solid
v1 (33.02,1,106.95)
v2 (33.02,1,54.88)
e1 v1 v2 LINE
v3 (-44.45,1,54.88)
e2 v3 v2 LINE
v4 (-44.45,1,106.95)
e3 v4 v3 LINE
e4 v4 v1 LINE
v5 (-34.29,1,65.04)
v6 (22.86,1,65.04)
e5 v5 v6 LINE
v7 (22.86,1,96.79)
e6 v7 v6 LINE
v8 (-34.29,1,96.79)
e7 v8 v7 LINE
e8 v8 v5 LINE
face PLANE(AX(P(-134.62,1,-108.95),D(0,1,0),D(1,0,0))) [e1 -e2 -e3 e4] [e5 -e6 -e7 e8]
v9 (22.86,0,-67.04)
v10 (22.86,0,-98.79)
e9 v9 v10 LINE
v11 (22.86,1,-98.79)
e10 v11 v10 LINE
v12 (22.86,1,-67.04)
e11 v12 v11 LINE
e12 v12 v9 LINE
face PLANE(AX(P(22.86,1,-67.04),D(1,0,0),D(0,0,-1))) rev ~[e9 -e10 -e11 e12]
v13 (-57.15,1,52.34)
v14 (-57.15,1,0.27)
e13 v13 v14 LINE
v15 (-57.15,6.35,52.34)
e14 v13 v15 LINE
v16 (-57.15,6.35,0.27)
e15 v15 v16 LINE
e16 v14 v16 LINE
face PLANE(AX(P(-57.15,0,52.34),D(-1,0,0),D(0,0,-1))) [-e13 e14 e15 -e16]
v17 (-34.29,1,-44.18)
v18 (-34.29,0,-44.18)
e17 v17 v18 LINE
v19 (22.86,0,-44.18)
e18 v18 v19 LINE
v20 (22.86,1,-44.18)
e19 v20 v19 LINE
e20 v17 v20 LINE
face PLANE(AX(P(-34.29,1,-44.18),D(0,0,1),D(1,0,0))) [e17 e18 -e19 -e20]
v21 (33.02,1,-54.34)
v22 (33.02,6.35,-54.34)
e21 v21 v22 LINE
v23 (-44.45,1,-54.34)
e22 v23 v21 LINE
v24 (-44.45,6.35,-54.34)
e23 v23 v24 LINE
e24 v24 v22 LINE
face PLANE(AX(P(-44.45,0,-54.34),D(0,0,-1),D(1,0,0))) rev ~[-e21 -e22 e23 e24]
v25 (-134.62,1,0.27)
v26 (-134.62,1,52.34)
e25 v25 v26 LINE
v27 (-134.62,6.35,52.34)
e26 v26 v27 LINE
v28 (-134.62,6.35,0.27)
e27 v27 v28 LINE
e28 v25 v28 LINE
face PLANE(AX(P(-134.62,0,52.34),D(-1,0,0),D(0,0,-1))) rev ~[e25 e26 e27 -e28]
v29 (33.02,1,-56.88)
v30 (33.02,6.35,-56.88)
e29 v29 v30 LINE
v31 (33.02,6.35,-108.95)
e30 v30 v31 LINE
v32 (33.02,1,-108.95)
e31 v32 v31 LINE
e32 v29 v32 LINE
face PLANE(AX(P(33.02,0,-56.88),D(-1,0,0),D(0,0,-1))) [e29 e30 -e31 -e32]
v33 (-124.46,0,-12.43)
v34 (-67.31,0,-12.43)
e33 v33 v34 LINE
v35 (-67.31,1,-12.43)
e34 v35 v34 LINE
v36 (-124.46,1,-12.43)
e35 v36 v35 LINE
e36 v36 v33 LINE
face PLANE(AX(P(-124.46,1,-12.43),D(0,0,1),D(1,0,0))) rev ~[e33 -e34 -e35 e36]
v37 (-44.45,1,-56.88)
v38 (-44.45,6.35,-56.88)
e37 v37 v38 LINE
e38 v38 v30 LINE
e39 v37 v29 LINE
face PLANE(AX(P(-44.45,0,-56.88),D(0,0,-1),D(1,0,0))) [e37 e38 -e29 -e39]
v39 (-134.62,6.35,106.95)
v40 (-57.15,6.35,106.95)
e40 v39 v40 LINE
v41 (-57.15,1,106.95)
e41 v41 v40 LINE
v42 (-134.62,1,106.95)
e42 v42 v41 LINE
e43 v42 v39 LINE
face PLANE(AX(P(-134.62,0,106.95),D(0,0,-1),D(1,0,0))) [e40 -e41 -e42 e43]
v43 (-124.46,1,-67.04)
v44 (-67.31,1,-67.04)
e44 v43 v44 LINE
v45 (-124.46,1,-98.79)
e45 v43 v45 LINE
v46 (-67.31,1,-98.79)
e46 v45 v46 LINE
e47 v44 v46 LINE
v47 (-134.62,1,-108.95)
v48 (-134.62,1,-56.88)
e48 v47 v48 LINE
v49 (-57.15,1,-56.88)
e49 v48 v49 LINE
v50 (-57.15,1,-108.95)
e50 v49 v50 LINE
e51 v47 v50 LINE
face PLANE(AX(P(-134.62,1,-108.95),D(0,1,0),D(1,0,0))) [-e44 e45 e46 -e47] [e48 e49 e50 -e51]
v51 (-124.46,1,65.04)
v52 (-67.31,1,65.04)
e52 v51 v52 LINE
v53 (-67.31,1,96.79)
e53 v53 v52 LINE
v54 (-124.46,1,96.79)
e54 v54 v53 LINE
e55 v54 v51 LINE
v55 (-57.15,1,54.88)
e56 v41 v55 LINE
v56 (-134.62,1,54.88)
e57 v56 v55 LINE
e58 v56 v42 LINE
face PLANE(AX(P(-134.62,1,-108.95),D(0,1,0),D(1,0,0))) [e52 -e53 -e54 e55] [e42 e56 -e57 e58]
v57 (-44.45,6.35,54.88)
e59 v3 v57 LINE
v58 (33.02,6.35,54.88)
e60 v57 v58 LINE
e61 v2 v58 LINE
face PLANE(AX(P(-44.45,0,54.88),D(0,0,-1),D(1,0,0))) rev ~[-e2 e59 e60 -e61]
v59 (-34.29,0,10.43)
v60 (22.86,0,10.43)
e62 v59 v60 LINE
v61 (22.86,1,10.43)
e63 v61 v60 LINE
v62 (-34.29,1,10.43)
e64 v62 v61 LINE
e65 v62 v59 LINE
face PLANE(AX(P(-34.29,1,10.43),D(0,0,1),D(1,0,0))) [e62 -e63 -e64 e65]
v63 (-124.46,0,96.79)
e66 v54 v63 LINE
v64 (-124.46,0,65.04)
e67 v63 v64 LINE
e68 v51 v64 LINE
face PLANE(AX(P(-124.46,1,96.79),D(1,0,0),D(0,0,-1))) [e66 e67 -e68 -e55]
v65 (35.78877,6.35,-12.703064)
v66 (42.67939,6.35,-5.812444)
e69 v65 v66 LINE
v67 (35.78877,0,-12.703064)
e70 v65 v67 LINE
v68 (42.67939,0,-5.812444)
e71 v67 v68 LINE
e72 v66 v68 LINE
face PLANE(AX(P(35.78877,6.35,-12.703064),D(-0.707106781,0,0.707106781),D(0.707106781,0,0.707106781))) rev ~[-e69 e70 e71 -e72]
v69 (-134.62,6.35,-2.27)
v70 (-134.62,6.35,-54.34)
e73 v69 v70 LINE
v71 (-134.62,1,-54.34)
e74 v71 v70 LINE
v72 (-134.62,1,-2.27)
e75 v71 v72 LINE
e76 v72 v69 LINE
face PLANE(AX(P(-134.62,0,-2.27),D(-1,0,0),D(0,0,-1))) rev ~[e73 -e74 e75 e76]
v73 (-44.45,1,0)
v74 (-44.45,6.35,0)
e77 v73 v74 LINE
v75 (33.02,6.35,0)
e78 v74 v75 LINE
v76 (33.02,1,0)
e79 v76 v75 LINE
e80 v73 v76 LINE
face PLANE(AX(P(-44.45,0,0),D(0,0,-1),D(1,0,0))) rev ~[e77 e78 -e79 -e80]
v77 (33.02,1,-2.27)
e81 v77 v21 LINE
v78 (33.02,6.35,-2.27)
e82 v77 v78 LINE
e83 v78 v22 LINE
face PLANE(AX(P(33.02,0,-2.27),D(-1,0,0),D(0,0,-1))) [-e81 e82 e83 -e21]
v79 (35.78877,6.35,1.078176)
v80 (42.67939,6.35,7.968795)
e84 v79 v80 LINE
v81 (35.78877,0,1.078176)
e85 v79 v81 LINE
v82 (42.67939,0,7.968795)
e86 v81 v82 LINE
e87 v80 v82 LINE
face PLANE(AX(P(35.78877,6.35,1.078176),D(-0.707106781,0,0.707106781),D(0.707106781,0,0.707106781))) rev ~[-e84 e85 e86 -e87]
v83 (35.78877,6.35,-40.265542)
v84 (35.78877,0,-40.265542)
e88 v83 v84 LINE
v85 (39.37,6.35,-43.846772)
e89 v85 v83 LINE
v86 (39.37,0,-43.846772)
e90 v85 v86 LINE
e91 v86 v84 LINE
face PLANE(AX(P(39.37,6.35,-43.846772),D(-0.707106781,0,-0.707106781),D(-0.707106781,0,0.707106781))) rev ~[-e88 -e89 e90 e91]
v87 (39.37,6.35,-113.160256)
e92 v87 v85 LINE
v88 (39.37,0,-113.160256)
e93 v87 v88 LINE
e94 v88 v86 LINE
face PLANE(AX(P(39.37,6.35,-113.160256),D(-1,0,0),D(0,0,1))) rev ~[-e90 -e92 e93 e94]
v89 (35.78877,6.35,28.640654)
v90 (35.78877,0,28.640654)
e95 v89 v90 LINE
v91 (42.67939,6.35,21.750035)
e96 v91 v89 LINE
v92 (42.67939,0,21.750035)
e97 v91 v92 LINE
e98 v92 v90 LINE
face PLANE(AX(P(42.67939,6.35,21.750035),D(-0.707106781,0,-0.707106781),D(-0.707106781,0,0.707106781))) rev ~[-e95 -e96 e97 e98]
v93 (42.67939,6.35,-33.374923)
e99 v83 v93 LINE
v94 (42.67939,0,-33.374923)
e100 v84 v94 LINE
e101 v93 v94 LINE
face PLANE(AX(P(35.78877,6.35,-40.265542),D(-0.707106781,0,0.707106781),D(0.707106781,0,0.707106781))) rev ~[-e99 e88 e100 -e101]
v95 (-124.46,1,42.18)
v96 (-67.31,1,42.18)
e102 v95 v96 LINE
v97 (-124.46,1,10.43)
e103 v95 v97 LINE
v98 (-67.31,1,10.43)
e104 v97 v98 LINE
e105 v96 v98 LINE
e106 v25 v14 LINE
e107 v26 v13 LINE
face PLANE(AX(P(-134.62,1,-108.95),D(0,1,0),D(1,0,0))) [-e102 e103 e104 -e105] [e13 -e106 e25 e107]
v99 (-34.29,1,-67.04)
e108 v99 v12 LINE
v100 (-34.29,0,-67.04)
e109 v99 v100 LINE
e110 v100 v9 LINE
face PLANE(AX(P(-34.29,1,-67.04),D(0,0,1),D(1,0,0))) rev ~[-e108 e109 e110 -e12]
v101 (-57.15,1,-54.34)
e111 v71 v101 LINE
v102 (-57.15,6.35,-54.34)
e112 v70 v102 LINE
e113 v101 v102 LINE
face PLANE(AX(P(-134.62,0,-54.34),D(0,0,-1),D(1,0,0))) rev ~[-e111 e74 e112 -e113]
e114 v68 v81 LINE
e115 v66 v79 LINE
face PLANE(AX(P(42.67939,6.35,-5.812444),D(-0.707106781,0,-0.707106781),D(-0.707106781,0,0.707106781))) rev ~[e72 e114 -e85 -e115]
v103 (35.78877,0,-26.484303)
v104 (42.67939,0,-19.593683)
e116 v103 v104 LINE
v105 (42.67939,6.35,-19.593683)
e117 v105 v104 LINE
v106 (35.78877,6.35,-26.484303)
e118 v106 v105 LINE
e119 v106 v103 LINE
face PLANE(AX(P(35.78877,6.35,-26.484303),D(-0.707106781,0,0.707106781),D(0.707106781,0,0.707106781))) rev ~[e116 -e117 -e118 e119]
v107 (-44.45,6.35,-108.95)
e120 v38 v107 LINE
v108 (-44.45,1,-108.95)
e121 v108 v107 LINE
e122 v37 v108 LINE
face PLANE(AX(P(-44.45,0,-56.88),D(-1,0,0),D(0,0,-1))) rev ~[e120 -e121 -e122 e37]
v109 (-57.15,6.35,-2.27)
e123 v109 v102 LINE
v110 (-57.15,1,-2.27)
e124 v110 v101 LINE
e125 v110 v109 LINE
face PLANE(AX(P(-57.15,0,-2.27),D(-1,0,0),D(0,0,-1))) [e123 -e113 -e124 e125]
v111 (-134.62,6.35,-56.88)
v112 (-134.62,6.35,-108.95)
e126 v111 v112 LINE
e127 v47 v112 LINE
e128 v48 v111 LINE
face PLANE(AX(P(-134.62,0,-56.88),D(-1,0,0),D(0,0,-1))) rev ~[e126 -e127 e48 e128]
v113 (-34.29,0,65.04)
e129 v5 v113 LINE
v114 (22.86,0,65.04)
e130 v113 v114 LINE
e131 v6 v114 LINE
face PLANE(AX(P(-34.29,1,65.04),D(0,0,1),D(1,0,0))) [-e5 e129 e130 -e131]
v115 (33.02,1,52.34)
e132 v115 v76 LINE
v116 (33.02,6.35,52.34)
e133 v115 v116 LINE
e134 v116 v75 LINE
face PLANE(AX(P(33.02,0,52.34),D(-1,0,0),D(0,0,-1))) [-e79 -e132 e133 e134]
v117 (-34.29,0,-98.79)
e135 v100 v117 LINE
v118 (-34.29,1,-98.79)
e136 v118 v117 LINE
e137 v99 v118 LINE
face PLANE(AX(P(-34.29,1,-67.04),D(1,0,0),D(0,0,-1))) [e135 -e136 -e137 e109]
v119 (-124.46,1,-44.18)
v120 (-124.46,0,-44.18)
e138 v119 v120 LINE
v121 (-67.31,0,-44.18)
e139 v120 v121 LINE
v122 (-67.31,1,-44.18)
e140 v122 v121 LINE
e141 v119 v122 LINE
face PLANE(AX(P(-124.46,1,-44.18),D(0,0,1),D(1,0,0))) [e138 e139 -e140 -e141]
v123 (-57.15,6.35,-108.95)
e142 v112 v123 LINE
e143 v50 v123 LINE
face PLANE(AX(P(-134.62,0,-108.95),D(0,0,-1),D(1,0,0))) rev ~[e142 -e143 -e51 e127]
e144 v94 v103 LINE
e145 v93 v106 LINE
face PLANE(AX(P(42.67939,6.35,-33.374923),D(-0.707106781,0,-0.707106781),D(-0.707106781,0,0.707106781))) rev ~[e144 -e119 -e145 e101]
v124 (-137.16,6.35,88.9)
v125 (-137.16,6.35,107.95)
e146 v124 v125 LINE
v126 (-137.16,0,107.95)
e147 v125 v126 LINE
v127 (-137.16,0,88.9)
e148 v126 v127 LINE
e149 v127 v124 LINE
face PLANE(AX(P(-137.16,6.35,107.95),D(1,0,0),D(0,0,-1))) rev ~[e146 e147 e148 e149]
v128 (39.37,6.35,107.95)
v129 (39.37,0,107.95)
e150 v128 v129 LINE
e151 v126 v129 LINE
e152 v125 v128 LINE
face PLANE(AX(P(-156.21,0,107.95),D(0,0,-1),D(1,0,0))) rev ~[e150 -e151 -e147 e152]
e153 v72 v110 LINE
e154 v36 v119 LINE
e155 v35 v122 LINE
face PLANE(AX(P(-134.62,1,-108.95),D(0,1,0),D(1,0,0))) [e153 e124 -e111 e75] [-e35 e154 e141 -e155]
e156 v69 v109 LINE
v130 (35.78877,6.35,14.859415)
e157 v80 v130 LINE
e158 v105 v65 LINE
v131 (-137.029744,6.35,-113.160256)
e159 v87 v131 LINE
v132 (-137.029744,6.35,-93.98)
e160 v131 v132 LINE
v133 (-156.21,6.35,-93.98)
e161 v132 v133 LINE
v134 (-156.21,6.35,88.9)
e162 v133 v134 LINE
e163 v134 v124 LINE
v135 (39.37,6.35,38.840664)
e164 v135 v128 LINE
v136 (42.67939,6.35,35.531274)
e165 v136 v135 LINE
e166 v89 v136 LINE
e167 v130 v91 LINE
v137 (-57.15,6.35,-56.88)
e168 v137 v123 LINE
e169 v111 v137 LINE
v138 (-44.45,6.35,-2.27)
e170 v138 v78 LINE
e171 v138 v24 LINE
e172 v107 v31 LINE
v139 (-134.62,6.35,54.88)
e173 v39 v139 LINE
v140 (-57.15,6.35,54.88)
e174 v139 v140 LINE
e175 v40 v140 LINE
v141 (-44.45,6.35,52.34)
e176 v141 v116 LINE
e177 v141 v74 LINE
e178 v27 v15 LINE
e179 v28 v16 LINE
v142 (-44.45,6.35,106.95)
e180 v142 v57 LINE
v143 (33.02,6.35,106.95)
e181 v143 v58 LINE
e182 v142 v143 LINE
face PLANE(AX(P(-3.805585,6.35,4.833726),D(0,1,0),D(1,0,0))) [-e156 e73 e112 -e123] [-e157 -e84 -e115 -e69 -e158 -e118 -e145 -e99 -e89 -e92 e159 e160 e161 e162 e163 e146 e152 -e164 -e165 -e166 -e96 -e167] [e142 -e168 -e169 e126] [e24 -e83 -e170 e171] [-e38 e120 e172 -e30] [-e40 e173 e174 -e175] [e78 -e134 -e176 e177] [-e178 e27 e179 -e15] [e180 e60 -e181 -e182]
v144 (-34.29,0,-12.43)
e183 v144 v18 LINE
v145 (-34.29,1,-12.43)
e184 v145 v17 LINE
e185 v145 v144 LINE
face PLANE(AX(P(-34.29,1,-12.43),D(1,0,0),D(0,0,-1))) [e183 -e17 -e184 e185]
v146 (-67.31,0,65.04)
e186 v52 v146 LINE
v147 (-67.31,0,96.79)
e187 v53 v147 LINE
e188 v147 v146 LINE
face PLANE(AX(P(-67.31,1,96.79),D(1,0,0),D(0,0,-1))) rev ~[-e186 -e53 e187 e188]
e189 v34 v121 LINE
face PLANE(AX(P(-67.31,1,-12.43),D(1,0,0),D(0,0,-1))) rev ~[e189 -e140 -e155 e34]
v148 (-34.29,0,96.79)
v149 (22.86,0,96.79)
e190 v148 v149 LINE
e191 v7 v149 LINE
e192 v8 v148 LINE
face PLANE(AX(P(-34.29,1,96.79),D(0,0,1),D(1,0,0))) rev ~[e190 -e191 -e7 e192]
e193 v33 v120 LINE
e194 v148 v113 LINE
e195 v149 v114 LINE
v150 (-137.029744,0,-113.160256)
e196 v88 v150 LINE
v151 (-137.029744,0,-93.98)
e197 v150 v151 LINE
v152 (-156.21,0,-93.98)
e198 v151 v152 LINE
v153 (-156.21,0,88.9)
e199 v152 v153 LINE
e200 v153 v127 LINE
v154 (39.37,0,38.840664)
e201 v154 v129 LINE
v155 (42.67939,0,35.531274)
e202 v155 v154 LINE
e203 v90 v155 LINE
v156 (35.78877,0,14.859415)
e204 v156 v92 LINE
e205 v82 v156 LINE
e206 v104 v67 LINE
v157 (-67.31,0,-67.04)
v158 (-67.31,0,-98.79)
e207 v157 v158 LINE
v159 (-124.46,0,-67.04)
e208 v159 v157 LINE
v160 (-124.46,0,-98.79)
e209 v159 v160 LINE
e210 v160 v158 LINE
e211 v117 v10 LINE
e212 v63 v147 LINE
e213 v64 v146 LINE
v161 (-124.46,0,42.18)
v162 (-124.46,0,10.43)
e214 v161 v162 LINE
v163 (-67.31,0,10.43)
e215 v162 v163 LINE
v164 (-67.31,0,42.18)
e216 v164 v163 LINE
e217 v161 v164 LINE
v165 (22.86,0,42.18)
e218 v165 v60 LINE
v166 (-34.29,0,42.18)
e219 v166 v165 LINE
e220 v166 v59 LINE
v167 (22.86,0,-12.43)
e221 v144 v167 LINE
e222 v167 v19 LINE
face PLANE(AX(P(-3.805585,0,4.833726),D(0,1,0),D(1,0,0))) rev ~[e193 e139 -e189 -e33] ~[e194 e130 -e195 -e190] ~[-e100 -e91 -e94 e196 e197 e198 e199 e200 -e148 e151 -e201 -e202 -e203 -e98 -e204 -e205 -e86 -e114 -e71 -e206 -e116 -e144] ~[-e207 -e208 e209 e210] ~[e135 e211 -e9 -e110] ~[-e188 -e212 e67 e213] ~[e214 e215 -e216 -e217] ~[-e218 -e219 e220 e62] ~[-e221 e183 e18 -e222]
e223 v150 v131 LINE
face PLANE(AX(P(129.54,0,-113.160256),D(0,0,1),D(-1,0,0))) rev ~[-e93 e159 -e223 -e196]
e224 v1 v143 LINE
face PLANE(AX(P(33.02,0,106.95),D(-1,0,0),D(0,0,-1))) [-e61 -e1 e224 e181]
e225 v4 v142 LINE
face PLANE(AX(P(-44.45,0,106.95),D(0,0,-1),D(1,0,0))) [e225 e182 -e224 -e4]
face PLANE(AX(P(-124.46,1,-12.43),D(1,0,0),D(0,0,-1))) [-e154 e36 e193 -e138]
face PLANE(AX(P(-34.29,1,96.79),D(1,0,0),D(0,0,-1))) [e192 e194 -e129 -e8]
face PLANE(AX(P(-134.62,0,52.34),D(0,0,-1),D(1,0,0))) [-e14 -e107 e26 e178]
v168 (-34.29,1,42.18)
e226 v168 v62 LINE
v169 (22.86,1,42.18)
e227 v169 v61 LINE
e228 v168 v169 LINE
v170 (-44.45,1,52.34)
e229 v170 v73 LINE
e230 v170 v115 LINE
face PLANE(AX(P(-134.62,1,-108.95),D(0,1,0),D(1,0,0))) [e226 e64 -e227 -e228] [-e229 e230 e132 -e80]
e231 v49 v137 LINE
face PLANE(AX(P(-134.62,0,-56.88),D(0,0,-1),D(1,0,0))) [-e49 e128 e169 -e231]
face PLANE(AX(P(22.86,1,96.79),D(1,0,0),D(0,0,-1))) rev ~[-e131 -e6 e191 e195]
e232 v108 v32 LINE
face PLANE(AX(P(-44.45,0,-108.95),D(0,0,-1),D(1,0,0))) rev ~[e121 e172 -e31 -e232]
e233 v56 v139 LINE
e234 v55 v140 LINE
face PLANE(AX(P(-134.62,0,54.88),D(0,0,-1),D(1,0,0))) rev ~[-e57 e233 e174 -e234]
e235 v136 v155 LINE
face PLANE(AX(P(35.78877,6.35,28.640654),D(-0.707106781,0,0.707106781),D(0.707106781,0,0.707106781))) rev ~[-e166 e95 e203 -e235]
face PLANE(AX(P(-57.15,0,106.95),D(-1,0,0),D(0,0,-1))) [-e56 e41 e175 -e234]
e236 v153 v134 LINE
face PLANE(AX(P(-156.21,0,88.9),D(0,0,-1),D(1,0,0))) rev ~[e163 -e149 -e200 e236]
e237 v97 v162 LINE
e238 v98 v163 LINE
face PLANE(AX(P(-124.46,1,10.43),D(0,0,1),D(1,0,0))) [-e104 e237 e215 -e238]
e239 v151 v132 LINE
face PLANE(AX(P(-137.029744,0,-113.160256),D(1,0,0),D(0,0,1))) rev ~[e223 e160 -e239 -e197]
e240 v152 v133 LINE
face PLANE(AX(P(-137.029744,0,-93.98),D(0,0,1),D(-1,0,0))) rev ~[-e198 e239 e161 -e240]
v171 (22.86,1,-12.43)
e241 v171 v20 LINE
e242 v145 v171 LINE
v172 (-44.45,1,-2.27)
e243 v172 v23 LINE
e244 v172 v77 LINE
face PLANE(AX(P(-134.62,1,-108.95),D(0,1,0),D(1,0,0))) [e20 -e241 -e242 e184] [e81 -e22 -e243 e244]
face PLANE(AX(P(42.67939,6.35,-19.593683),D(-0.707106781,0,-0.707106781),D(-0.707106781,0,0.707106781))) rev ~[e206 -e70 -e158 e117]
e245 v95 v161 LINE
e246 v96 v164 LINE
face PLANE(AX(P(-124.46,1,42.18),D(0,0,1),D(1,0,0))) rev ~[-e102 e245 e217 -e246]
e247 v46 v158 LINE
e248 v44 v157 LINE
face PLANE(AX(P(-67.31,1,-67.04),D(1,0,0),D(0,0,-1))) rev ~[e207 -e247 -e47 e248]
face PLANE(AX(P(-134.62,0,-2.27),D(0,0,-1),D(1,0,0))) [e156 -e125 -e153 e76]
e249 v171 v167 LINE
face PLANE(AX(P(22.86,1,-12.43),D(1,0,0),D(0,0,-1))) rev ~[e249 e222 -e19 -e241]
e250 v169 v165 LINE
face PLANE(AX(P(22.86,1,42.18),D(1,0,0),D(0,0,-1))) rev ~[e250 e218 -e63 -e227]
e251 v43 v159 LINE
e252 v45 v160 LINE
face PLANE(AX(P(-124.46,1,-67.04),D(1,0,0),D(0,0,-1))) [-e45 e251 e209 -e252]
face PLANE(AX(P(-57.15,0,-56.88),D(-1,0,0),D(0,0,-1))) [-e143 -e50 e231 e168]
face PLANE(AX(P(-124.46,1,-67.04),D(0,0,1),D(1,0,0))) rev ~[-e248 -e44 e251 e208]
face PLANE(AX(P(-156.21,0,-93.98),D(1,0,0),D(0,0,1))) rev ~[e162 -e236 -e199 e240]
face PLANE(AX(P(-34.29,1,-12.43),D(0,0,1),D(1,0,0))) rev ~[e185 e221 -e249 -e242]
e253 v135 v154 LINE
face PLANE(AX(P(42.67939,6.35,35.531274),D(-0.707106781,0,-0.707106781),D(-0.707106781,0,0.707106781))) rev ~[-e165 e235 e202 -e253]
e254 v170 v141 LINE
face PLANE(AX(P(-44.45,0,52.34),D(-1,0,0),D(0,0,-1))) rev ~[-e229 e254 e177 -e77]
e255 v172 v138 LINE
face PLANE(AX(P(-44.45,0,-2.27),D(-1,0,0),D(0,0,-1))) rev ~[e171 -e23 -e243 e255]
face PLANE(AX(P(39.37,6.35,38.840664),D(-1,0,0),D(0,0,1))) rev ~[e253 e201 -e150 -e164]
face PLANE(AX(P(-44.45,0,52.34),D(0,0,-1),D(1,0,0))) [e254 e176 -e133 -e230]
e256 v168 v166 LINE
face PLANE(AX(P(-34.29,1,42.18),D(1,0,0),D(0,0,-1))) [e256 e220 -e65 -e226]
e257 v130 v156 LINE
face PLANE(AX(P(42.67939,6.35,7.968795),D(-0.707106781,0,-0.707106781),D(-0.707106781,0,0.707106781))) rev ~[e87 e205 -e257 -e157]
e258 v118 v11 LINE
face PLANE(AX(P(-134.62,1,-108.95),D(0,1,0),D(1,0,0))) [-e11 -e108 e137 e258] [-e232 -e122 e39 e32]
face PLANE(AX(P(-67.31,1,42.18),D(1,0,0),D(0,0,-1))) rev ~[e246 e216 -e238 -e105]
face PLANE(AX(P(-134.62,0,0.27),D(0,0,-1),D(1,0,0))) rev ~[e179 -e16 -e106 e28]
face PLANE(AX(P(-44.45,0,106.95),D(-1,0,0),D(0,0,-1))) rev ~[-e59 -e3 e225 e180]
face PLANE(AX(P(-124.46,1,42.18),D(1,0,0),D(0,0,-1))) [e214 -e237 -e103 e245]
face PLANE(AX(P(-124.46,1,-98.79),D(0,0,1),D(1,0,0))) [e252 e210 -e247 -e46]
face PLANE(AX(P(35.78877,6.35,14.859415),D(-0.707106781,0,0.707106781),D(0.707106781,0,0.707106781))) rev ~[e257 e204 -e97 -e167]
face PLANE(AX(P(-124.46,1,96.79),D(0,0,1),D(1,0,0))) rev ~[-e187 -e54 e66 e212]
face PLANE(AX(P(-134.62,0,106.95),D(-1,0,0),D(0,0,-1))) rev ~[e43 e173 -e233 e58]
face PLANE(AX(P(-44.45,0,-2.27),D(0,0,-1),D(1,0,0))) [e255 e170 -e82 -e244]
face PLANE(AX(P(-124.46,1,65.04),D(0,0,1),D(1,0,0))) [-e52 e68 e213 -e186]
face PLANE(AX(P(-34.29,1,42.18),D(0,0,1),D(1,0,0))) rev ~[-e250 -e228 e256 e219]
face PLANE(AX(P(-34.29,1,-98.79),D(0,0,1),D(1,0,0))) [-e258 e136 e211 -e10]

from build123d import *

# Parameters (mm, degrees)
SKETCH1_W           = 77.47
SKETCH1_H           = 52.07
SKETCH1_R           = 1.5875
SKETCH1_H_2         = 52.34
BOSS_EXTRUDE3_DEPTH = 6.35
SKETCH2_W           = 19.05
SKETCH2_H           = 1
CUT_EXTRUDE1_DEPTH  = 193.995155978
SKETCH4_W           = 19.05
SKETCH4_H           = 1
CUT_EXTRUDE2_DEPTH  = 193.995155978
SKETCH5_W           = 257.81
SKETCH5_H           = 1
BOSS_EXTRUDE4_DEPTH = 215.9
SKETCH6_W           = 57.15
SKETCH6_H           = 31.75
CUT_EXTRUDE3_DEPTH  = 193.964841955
CUT_EXTRUDE4_DEPTH  = 193.995155978


with BuildPart() as part:
    # Sketch1 → Boss-Extrude3 (new body)
    with BuildSketch(Plane(origin=(0, 0, 0), x_dir=(1, 0, 0), z_dir=(0, 1, 0))):
        Polygon((148.59, 94.11025641), (129.54, 94.11025641), (129.54, 113.16025641), (-137.02974359, 113.16025641), (-137.02974359, 93.98), (-156.21, 93.98), (-156.21, -88.9), (-137.16, -88.9), (-137.16, -106.95), (-156.21, -106.95), (-156.21, -107.95), (148.59, -107.95), (148.59, -106.95), (129.54, -106.95), (129.54, -88.9), (148.59, -88.9), align=None)
        with Locations((-95.885, -80.915)):
            Rectangle(SKETCH1_W, SKETCH1_H, mode=Mode.SUBTRACT)
        with Locations((-5.715, -80.915)):
            Rectangle(SKETCH1_W, SKETCH1_H, mode=Mode.SUBTRACT)
        with Locations((84.455, -80.915)):
            Rectangle(SKETCH1_W, SKETCH1_H, mode=Mode.SUBTRACT)
        with Locations((84.455, 82.915)):
            Rectangle(SKETCH1_W, SKETCH1_H, mode=Mode.SUBTRACT)
        with Locations((84.455, 28.305)):
            Rectangle(SKETCH1_W, SKETCH1_H, mode=Mode.SUBTRACT)
        with Locations((84.455, -26.305)):
            Rectangle(SKETCH1_W, SKETCH1_H, mode=Mode.SUBTRACT)
        with Locations(Location((139.065, 75.334869264, 0), (0, 0, 270))):
            Circle(SKETCH1_R, mode=Mode.SUBTRACT)
        with Locations(Location((139.065, 80.910552749, 0), (0, 0, 270))):
            Circle(SKETCH1_R, mode=Mode.SUBTRACT)
        with Locations(Location((139.065, 86.618990604, 0), (0, 0, 270))):
            Circle(SKETCH1_R, mode=Mode.SUBTRACT)
        with Locations((-5.715, 82.915)):
            Rectangle(SKETCH1_W, SKETCH1_H, mode=Mode.SUBTRACT)
        with Locations((-95.885, -26.305)):
            Rectangle(SKETCH1_W, SKETCH1_H, mode=Mode.SUBTRACT)
        with Locations((-5.715, -26.17)):
            Rectangle(SKETCH1_W, SKETCH1_H_2, mode=Mode.SUBTRACT)
        with Locations((-95.885, 28.305)):
            Rectangle(SKETCH1_W, SKETCH1_H, mode=Mode.SUBTRACT)
        with Locations((-5.715, 28.305)):
            Rectangle(SKETCH1_W, SKETCH1_H, mode=Mode.SUBTRACT)
        with Locations((-95.885, 82.915)):
            Rectangle(SKETCH1_W, SKETCH1_H, mode=Mode.SUBTRACT)
    extrude(amount=BOSS_EXTRUDE3_DEPTH)

    # Sketch2 → Cut-Extrude1 (cut, through all)
    with BuildSketch(Plane(origin=(0, 6.35, 0), x_dir=(1, 0, 0), z_dir=(0, 1, 0))):
        with Locations((139.065, -107.45)):
            Rectangle(SKETCH2_W, SKETCH2_H)
    extrude(amount=-CUT_EXTRUDE1_DEPTH, mode=Mode.SUBTRACT)

    # Sketch4 → Cut-Extrude2 (cut, through all)
    with BuildSketch(Plane(origin=(0, 6.35, 0), x_dir=(1, 0, 0), z_dir=(0, 1, 0))):
        with Locations((-146.685, -107.45)):
            Rectangle(SKETCH4_W, SKETCH4_H)
    extrude(amount=-CUT_EXTRUDE2_DEPTH, mode=Mode.SUBTRACT)

    # Sketch5 → Boss-Extrude4 (add)
    with BuildSketch(Plane.XY.offset(-108.95)):
        with Locations((-5.715, 0.5)):
            Rectangle(SKETCH5_W, SKETCH5_H)
    extrude(amount=BOSS_EXTRUDE4_DEPTH)

    # Sketch6 → Cut-Extrude3 (cut, through all)
    with BuildSketch(Plane(origin=(0, 1, 0), x_dir=(1, 0, 0), z_dir=(0, 1, 0))):
        with Locations((-95.885, 82.915)):
            Rectangle(SKETCH6_W, SKETCH6_H)
        with Locations((-95.885, 28.305)):
            Rectangle(SKETCH6_W, SKETCH6_H)
        with Locations((-95.885, -26.305)):
            Rectangle(SKETCH6_W, SKETCH6_H)
        with Locations((-95.885, -80.915)):
            Rectangle(SKETCH6_W, SKETCH6_H)
        with Locations((-5.715, 82.915)):
            Rectangle(SKETCH6_W, SKETCH6_H)
        with Locations((84.455, 82.915)):
            Rectangle(SKETCH6_W, SKETCH6_H)
        with Locations((-5.715, 28.305)):
            Rectangle(SKETCH6_W, SKETCH6_H)
        with Locations((-5.715, -26.305)):
            Rectangle(SKETCH6_W, SKETCH6_H)
        with Locations((-5.715, -80.915)):
            Rectangle(SKETCH6_W, SKETCH6_H)
        with Locations((84.455, -80.915)):
            Rectangle(SKETCH6_W, SKETCH6_H)
        with Locations((84.455, -26.305)):
            Rectangle(SKETCH6_W, SKETCH6_H)
        with Locations((84.455, 28.305)):
            Rectangle(SKETCH6_W, SKETCH6_H)
    extrude(amount=-CUT_EXTRUDE3_DEPTH, mode=Mode.SUBTRACT)

    # Sketch7 → Cut-Extrude4 (cut, through all)
    with BuildSketch(Plane(origin=(0, 6.35, 0), x_dir=(1, 0, 0), z_dir=(0, 1, 0))):
        Polygon((39.37, 43.846772262), (35.788770068, 40.26554233), (42.679389728, 33.37492267), (35.788770068, 26.48430301), (42.679389728, 19.593683351), (39.37, 16.284293623), (35.788770068, 12.703063691), (42.679389728, 5.812444031), (35.788770068, -1.078175628), (42.679389728, -7.968795288), (35.788770068, -14.859414948), (39.37, -18.44064488), (42.679389728, -21.750034608), (35.788770068, -28.640654267), (42.679389728, -35.531273927), (39.37, -38.840663655), (39.37, -107.95), (150.027202107, -107.95), (150.027202107, 113.16025641), (39.37, 113.16025641), align=None)
    extrude(amount=-CUT_EXTRUDE4_DEPTH, mode=Mode.SUBTRACT)


solid = part.part
